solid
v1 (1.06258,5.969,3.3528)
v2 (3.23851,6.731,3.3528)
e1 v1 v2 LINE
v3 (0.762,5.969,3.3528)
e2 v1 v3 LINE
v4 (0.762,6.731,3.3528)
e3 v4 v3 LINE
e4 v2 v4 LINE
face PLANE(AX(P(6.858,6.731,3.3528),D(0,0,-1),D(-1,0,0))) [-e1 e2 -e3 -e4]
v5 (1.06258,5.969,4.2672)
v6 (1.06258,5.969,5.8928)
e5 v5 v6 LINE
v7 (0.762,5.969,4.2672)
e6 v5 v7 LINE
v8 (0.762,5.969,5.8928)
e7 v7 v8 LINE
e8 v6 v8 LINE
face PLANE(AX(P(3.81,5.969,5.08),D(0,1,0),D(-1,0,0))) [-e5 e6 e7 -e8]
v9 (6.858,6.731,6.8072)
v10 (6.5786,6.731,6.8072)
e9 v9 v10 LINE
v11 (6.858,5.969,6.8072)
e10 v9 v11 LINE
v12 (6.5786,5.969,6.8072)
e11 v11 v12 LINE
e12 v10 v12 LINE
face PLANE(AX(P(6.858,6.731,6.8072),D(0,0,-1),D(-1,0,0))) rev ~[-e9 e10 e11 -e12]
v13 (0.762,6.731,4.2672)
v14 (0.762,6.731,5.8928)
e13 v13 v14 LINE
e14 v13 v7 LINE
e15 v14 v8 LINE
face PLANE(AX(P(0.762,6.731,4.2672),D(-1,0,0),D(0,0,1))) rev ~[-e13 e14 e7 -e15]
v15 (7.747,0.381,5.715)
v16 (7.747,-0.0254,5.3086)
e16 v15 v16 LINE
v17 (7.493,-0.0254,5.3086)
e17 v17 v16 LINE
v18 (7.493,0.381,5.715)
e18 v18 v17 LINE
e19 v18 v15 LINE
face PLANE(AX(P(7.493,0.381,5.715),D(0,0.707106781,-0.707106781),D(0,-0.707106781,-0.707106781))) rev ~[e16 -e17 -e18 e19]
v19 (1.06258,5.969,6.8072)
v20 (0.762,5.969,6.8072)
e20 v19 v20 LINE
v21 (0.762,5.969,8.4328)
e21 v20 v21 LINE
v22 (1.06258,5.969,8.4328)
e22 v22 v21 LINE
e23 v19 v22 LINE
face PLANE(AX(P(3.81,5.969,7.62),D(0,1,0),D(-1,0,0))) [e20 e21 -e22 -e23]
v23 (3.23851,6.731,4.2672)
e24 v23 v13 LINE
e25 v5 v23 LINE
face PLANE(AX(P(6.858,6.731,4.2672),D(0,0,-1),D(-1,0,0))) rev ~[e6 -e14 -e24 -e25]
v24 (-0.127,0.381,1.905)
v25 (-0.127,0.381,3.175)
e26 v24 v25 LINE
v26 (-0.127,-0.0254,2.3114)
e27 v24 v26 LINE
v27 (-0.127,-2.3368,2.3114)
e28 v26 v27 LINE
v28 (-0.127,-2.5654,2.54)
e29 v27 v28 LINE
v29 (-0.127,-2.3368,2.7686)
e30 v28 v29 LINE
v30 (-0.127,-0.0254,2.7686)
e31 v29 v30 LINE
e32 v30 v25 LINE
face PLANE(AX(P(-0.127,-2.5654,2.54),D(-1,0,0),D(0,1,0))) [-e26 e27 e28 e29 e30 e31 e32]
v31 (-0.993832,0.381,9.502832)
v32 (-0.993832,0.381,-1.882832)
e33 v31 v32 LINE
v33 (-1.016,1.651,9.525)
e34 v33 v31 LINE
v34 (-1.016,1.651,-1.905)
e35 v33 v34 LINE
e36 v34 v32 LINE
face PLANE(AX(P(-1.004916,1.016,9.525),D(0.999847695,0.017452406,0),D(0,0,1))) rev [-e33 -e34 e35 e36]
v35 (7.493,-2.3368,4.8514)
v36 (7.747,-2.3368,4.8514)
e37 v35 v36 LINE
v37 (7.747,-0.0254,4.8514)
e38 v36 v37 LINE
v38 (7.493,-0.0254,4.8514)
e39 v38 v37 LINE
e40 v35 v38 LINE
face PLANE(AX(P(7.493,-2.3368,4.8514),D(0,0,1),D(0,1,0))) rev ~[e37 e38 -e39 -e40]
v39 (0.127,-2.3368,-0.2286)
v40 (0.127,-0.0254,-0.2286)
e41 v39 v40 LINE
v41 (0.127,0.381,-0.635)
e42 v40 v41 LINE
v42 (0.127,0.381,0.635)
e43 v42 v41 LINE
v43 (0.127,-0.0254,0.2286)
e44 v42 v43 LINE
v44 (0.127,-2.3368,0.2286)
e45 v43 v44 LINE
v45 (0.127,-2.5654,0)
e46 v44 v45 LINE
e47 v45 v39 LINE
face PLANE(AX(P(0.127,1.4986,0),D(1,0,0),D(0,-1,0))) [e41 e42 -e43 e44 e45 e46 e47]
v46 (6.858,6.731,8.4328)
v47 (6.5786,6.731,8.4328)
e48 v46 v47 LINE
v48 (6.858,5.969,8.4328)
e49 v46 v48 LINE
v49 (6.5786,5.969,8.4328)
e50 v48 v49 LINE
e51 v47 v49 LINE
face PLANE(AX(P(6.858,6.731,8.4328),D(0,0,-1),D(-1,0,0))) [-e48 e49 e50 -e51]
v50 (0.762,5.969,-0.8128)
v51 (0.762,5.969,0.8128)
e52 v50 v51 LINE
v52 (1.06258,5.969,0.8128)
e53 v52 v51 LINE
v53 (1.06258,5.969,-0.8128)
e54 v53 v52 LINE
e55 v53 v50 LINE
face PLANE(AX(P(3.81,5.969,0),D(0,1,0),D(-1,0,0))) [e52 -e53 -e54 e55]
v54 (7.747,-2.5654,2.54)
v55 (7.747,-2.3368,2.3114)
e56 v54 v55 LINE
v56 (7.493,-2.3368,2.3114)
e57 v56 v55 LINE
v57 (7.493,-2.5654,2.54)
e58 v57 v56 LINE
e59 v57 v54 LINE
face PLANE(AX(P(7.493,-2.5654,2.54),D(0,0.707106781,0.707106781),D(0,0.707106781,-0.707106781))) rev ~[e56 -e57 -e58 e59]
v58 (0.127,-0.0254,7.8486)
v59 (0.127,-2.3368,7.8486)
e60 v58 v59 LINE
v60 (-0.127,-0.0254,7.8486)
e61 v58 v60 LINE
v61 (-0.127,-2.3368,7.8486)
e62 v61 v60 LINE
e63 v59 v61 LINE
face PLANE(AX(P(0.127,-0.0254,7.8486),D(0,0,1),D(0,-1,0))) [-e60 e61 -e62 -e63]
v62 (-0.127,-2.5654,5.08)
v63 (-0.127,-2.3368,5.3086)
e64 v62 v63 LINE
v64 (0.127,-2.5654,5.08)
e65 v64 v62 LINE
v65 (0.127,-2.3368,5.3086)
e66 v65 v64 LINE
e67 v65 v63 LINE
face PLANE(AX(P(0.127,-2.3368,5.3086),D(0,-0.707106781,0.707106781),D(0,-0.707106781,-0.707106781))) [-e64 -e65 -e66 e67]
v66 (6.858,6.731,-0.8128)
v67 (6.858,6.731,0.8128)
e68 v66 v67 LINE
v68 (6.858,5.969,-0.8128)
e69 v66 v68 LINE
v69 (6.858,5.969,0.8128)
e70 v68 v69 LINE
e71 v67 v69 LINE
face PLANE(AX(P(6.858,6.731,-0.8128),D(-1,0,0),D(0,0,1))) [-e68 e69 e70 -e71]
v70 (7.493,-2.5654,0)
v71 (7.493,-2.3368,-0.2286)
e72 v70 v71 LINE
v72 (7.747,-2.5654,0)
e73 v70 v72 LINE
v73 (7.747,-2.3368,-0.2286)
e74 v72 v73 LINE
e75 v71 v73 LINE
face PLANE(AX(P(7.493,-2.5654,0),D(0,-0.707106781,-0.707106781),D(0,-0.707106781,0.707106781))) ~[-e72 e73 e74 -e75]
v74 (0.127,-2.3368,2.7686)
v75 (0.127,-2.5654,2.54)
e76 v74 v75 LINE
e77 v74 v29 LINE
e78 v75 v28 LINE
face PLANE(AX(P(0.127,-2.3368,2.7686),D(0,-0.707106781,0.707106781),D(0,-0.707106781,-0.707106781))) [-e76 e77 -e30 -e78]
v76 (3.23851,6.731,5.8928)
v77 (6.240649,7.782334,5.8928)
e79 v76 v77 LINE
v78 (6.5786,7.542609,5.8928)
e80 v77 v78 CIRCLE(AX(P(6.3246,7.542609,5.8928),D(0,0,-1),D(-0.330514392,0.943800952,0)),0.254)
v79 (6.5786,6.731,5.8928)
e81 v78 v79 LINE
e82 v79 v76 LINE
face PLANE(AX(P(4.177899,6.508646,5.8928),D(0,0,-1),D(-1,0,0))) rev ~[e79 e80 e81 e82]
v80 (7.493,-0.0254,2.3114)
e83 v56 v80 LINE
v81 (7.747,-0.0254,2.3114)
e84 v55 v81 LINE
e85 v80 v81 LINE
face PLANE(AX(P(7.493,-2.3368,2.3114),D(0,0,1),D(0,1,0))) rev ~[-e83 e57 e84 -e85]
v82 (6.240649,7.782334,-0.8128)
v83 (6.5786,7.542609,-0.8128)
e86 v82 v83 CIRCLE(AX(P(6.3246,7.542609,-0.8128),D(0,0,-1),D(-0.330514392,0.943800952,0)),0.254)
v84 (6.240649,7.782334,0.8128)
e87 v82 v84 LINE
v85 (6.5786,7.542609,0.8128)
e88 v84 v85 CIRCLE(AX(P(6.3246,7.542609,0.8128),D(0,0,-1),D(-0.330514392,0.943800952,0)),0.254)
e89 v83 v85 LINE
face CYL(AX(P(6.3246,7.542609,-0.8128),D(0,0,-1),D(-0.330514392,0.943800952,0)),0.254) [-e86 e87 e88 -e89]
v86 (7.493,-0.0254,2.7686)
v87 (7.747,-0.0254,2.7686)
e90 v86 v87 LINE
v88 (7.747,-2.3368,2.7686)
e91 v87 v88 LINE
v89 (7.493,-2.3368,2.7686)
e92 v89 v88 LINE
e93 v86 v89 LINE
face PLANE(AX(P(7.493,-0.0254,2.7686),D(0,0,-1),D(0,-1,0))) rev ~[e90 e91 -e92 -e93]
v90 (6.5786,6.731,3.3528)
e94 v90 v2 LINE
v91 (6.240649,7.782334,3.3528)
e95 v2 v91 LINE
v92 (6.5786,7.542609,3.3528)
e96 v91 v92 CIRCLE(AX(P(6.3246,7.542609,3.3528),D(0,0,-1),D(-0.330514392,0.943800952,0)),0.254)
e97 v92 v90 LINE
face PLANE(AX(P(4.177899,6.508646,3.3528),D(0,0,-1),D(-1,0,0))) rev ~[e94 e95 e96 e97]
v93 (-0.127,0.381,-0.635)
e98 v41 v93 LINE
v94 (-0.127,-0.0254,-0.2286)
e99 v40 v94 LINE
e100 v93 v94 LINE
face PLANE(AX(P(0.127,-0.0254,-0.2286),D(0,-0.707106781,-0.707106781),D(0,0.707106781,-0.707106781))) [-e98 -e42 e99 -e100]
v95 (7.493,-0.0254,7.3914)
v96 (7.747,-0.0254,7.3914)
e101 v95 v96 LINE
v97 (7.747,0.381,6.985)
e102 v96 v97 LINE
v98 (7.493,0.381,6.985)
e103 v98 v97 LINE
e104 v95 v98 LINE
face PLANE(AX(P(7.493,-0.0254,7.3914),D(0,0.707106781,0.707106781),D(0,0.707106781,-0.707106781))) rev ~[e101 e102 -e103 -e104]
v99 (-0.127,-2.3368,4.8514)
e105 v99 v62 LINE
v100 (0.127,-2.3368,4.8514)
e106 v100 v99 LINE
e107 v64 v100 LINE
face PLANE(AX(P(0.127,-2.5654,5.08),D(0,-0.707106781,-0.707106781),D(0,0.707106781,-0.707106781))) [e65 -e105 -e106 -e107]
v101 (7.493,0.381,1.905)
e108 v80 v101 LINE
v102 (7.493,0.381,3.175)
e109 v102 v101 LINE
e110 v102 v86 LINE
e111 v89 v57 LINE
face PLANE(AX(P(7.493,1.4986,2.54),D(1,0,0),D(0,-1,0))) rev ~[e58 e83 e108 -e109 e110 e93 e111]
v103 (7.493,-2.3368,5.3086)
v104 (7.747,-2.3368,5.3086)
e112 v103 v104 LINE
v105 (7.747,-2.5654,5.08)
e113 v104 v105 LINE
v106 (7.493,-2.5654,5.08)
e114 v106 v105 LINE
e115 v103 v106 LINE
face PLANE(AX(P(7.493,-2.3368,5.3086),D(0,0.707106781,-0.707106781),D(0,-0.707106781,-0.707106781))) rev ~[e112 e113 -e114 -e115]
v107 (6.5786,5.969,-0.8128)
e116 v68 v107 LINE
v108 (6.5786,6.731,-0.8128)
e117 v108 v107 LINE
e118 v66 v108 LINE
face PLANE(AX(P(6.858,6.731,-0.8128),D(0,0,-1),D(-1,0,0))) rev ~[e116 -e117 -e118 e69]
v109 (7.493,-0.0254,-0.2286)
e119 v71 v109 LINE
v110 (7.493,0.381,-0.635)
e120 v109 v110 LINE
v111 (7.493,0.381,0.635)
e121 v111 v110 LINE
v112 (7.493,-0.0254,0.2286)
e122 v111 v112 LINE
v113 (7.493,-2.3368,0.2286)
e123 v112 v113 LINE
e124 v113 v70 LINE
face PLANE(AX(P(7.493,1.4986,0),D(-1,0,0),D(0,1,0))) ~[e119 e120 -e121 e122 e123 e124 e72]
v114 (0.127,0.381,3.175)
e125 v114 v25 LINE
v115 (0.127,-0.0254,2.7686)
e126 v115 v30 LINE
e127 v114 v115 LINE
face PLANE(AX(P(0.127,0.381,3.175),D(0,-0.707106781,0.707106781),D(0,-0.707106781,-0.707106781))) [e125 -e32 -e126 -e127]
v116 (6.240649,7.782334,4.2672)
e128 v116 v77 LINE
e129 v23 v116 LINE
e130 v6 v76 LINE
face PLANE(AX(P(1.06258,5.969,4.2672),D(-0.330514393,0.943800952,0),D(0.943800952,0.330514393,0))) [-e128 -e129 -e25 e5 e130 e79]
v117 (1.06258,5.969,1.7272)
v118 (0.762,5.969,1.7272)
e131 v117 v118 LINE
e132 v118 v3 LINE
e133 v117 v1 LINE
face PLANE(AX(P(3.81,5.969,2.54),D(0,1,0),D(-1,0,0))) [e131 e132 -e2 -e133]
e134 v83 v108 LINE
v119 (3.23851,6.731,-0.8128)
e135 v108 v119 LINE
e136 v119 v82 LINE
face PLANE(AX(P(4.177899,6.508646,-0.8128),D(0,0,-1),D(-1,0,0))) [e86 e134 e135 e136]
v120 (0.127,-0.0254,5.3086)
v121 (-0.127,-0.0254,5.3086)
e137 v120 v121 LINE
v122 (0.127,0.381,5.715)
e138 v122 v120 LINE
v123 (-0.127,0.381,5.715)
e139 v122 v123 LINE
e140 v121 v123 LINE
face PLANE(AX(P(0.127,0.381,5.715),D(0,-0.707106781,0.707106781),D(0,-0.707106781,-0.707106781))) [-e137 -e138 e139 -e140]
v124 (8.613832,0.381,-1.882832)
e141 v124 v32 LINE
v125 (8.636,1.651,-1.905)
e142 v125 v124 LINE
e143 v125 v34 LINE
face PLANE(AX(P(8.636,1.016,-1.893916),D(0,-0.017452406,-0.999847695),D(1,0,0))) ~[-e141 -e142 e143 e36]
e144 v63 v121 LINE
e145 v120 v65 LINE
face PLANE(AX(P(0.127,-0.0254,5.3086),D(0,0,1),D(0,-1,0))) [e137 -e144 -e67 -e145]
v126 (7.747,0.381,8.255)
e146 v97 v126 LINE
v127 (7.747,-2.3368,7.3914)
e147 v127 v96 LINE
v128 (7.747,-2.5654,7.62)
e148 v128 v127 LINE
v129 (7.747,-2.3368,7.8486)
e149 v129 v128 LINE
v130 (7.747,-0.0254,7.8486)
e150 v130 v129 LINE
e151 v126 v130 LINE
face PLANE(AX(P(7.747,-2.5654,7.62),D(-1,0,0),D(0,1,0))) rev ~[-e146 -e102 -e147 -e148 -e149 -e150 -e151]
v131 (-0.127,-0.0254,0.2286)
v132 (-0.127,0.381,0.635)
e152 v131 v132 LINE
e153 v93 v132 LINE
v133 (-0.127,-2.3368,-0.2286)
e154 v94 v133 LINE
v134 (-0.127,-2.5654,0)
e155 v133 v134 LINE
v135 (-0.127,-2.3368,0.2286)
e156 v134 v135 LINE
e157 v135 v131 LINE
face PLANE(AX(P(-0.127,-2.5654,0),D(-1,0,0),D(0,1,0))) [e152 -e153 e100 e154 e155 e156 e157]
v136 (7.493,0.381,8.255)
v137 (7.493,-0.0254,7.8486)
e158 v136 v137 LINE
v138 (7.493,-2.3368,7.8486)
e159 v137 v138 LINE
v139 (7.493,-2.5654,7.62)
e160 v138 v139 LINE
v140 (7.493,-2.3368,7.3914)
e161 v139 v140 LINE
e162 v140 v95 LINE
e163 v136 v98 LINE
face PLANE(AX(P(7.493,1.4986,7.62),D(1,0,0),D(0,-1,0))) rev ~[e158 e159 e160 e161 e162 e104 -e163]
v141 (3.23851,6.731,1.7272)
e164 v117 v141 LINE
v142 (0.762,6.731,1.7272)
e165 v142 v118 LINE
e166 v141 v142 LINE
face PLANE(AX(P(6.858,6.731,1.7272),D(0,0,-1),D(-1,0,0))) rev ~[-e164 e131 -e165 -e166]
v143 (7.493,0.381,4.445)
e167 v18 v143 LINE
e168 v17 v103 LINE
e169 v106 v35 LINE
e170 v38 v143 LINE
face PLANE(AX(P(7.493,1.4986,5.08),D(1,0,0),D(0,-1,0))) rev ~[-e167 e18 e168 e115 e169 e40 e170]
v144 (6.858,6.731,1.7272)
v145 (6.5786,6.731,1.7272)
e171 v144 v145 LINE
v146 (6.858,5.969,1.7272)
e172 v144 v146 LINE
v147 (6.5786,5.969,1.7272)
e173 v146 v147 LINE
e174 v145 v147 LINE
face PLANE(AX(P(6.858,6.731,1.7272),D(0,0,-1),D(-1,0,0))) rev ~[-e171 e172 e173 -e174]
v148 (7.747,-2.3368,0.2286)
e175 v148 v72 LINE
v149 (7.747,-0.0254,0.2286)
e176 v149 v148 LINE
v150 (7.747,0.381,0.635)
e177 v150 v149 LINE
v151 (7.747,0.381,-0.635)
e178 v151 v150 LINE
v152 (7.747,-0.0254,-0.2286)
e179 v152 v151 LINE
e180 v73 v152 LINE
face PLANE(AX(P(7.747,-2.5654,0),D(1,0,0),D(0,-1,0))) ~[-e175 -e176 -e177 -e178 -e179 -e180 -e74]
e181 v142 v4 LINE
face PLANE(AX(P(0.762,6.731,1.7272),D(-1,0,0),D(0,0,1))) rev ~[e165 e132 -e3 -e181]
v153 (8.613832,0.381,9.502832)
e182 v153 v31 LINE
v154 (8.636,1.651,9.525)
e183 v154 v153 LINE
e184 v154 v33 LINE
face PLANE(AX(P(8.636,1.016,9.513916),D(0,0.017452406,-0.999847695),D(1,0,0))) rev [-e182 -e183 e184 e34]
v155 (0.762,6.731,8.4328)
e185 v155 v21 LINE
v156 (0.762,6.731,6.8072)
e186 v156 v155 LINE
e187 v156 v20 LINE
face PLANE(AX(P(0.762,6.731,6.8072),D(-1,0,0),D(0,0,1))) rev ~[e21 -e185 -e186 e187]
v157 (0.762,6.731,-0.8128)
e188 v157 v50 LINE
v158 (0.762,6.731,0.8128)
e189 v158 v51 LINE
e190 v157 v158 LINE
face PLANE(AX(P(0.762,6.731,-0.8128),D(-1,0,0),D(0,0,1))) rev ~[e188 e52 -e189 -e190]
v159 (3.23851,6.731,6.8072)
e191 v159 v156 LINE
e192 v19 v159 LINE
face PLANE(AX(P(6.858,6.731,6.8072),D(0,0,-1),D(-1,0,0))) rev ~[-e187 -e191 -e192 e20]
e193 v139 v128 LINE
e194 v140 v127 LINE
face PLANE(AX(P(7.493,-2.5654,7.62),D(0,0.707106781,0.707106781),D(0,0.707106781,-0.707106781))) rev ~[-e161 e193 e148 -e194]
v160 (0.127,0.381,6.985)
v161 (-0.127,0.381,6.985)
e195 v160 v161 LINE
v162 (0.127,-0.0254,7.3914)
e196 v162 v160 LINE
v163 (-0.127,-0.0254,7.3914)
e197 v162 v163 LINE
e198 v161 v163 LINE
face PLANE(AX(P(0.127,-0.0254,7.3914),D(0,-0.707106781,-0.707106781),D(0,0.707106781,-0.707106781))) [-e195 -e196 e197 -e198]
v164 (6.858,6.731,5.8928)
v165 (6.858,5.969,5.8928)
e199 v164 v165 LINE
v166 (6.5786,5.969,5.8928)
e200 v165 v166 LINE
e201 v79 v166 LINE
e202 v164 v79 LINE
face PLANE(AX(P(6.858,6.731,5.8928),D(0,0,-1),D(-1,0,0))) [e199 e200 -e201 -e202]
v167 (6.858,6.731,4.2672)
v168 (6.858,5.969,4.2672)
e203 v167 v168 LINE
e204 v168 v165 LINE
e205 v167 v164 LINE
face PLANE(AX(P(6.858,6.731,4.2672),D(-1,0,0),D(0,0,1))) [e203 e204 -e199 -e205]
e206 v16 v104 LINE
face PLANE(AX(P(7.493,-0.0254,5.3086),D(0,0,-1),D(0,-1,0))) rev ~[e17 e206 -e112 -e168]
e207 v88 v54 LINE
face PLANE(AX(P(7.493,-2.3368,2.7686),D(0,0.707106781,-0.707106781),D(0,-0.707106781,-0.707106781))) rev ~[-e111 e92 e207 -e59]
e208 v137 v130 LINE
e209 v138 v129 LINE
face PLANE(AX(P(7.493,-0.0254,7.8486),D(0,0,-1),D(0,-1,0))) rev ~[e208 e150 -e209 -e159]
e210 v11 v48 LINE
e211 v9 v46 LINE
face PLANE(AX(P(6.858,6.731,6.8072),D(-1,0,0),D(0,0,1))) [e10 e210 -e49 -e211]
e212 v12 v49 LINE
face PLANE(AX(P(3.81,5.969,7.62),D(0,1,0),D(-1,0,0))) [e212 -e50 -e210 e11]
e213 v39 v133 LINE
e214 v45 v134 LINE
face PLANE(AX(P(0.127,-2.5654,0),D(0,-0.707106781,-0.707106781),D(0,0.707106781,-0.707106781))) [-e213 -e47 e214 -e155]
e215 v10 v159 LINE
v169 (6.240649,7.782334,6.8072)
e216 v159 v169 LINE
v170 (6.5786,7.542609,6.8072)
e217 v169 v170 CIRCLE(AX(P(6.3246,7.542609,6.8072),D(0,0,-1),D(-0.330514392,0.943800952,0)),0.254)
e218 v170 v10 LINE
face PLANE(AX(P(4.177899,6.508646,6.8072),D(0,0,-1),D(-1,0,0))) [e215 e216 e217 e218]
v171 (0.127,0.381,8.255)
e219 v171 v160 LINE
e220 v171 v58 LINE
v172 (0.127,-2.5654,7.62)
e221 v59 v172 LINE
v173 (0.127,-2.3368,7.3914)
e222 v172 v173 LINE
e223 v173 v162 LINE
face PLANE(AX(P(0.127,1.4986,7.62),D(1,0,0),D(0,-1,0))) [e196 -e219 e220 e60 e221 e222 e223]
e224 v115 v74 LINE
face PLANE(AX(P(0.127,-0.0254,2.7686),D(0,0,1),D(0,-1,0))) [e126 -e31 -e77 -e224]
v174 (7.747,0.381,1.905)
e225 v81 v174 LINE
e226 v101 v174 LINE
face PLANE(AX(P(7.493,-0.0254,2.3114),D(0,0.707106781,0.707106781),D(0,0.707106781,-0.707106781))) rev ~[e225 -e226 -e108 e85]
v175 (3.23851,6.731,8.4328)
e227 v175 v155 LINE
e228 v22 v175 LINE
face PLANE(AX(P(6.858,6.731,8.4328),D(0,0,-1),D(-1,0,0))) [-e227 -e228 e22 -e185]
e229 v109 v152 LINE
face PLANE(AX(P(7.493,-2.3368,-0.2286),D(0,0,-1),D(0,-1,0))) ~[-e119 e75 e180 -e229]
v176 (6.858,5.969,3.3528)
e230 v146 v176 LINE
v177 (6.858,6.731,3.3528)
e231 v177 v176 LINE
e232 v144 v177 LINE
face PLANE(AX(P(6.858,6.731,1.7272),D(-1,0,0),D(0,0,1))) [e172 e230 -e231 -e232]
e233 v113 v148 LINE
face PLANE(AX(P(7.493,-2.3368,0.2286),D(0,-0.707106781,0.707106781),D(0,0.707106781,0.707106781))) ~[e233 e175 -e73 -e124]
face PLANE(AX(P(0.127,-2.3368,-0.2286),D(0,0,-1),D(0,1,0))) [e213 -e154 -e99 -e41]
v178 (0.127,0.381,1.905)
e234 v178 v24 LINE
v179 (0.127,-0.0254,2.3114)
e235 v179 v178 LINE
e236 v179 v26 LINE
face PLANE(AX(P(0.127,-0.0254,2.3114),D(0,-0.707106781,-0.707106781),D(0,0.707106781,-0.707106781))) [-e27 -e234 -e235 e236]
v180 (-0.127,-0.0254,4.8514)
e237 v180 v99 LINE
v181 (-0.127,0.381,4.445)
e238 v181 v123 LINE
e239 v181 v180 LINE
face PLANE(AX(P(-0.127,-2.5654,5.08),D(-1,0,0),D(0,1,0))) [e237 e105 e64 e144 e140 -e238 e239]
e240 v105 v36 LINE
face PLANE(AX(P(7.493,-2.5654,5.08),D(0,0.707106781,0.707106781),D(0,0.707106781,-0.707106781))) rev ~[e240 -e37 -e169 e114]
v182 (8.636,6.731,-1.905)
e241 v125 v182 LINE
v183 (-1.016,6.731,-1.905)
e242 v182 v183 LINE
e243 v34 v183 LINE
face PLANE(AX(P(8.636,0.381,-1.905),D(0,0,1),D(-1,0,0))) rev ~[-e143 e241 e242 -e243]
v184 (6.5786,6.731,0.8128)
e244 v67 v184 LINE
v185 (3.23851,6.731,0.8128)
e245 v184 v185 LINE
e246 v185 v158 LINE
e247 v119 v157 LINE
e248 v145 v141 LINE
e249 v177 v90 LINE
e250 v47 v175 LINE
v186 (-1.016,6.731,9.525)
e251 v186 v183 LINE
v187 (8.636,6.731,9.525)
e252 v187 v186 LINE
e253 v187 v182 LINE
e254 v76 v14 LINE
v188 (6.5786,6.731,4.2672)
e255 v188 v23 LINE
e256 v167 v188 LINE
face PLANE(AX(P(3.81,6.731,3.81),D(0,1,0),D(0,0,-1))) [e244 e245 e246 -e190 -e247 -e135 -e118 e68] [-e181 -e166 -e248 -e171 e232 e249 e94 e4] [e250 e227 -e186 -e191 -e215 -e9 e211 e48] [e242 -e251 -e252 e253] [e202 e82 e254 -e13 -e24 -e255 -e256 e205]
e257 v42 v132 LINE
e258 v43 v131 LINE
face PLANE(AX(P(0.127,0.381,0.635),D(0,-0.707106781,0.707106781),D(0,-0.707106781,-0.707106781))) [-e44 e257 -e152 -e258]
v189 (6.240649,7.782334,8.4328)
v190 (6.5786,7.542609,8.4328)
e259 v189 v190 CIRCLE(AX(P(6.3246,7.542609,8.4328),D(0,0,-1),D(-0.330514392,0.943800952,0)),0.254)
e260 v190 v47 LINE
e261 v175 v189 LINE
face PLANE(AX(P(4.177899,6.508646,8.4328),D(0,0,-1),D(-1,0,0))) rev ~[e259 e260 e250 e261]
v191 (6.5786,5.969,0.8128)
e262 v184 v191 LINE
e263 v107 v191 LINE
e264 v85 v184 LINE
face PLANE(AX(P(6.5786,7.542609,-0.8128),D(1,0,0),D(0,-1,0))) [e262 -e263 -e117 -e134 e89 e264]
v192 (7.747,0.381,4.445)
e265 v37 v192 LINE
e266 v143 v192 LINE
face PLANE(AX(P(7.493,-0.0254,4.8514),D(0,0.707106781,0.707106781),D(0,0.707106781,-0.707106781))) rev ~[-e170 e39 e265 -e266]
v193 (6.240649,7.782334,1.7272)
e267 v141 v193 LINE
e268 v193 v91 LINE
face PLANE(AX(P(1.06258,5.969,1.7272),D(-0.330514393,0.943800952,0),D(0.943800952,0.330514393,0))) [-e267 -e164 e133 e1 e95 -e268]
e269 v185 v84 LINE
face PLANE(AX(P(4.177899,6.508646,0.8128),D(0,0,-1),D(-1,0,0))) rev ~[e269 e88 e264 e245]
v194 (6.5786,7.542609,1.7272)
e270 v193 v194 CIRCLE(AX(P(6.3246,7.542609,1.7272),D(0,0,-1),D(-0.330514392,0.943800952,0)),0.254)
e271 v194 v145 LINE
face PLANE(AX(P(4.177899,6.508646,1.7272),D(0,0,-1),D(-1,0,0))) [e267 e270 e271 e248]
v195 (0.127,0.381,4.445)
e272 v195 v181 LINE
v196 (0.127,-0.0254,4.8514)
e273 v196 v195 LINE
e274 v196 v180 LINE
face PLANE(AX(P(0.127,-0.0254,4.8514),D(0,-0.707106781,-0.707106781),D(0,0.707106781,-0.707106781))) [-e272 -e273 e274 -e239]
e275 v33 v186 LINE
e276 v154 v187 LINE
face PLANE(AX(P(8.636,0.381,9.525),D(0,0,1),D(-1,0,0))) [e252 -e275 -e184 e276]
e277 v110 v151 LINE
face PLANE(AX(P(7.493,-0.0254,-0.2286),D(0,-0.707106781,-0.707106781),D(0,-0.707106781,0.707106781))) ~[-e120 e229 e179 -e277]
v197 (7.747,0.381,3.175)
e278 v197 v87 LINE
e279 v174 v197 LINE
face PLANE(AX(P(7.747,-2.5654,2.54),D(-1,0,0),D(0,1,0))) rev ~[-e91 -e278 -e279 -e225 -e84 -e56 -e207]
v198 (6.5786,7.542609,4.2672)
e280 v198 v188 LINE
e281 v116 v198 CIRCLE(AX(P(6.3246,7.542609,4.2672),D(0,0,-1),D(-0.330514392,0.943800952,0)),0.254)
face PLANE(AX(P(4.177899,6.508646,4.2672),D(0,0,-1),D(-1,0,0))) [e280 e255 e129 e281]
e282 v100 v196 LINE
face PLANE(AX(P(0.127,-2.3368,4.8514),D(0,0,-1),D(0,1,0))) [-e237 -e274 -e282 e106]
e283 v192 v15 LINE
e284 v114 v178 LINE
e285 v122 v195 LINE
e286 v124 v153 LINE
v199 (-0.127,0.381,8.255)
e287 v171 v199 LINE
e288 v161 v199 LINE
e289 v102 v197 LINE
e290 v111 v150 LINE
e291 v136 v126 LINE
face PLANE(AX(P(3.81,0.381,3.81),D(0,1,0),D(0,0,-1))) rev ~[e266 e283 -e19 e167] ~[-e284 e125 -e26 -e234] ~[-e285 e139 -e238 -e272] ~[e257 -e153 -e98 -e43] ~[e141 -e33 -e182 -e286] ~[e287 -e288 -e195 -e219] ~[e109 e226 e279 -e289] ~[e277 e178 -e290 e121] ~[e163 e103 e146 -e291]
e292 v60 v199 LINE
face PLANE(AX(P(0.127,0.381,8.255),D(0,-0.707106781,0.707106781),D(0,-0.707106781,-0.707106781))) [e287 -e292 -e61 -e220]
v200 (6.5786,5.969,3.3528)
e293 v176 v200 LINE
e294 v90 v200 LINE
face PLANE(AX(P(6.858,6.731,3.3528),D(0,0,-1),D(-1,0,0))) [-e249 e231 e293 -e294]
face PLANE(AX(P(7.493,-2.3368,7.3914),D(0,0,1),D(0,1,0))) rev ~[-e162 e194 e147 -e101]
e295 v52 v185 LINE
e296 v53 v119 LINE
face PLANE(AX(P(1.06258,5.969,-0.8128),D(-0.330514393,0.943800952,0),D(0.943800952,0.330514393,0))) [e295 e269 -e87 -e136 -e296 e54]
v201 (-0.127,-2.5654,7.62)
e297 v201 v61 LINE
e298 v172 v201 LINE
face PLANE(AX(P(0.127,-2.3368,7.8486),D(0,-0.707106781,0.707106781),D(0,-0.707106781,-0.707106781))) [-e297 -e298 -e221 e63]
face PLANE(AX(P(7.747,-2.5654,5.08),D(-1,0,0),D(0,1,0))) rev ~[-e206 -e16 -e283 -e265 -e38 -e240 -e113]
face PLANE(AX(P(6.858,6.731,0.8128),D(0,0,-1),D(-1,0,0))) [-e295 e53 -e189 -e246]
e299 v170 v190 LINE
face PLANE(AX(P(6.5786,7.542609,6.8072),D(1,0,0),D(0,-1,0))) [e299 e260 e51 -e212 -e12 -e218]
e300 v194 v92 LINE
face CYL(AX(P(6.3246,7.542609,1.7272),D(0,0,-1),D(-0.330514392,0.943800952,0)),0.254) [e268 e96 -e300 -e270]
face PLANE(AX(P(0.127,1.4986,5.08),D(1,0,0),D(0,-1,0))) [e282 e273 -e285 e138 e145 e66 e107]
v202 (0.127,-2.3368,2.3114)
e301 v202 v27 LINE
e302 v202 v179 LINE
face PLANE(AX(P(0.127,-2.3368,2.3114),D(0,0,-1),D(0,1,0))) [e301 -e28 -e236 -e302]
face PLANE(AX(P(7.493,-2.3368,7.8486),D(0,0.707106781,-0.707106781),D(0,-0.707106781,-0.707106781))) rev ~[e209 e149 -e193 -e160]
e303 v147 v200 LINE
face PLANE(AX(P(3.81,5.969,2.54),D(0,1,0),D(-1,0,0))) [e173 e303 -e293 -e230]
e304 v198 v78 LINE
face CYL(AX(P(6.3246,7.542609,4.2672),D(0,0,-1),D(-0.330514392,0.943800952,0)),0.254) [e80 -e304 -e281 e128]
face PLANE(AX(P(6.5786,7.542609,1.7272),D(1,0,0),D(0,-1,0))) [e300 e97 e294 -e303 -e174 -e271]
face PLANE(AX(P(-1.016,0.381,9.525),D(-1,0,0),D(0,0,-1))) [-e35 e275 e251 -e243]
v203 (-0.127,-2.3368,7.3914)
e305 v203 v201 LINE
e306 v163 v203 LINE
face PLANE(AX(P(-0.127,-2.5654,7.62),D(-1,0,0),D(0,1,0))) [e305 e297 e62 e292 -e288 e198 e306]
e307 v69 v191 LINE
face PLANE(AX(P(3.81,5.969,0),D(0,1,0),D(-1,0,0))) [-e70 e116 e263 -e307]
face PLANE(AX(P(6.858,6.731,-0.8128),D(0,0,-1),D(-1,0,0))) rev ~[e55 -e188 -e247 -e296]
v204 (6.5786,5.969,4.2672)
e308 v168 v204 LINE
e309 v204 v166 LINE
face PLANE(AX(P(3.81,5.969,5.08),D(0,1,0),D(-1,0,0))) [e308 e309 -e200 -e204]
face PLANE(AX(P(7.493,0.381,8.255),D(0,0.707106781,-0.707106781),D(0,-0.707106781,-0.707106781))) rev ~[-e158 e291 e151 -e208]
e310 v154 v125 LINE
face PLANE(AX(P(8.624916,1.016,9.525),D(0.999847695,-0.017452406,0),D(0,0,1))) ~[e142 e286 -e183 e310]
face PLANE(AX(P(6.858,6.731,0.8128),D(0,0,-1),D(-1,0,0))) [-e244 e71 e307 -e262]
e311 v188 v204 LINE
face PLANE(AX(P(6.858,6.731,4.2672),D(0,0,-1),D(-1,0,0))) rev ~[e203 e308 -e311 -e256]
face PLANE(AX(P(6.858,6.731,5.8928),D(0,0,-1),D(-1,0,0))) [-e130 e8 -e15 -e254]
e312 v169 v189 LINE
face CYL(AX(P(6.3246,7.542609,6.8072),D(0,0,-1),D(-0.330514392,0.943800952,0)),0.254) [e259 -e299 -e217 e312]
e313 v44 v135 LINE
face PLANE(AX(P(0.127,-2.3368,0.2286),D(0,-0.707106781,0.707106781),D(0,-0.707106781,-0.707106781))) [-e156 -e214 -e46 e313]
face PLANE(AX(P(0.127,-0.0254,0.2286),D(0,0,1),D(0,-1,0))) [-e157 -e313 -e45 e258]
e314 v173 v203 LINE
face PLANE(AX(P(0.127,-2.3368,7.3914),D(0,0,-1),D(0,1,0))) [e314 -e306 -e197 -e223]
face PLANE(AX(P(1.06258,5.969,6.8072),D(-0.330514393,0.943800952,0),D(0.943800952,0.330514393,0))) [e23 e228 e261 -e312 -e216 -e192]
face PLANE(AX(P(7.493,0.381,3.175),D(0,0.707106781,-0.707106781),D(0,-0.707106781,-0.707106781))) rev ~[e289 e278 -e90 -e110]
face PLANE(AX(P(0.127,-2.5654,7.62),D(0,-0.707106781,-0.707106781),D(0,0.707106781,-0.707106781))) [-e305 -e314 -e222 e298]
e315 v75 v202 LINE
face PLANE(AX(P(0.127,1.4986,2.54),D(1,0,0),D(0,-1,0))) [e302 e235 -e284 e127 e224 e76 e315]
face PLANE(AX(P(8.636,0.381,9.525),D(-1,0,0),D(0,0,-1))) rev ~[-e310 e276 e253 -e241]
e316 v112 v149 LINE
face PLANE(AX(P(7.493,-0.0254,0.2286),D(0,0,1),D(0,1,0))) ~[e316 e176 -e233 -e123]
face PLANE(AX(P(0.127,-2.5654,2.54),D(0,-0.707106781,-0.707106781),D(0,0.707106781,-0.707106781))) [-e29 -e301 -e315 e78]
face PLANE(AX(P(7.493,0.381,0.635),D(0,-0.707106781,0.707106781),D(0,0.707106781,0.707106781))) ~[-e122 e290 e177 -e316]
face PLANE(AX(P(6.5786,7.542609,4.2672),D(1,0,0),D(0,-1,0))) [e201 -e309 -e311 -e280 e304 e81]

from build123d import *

# Parameters (mm, degrees)
SKETCH1_W                = 11.43
SKETCH1_H                = 9.652
BASE_EXTRUDE_DEPTH       = 6.35
CHAMFER1_SIZE2           = 0.022167932
CHAMFER1_SIZE            = 1.27
BOSS_EXTRUDE_THIN1_DEPTH = 0.635
CUT_EXTRUDE1_DEPTH       = 2.143
CUT_EXTRUDE2_DEPTH       = 2.143
LPATTERN2_COUNT          = 4
LPATTERN2_PITCH          = 2.54
MIRROR1_COPY_1_DEPTH     = 0.635
MIRROR1_COPY_2_DEPTH     = 0.635
MIRROR1_COPY_3_DEPTH     = 0.635
MIRROR1_COPY_4_DEPTH     = 2.143
MIRROR1_COPY_5_DEPTH     = 2.143
MIRROR1_COPY_6_DEPTH     = 2.143
MIRROR1_COPY_7_DEPTH     = 2.143
MIRROR1_COPY_8_DEPTH     = 2.143
MIRROR1_COPY_9_DEPTH     = 2.143
SKETCH6_W                = 6.096
SKETCH6_H                = 1.6256
CUT_EXTRUDE3_DEPTH       = 0.762
BOSS_EXTRUDE1_DEPTH      = 1.6256
LPATTERN3_COUNT          = 4
LPATTERN3_PITCH          = 2.54


with BuildPart() as part:
    # Sketch1 → Base-Extrude (new body)
    with BuildSketch(Plane(origin=(0, 0.381, 0), x_dir=(0, 0, -1), z_dir=(0, 1, 0))):
        with Locations((-3.81, -3.81)):
            Rectangle(SKETCH1_W, SKETCH1_H)
    extrude(amount=BASE_EXTRUDE_DEPTH)

    # Chamfer1
    chamfer1_edges = [part.edges().sort_by_distance(p)[0] for p in [
        (8.636, 0.381, 3.81),
        (3.81, 0.381, 9.525),
        (-1.016, 0.381, 3.81),
        (3.81, 0.381, -1.905),
    ]]
    chamfer(chamfer1_edges, length=CHAMFER1_SIZE, length2=CHAMFER1_SIZE2)

    # Sketch3 → Boss-Extrude-Thin1 (add, symmetric)
    with BuildSketch(Plane(origin=(10.541, 0, 0), x_dir=(-1, 0, 0), z_dir=(0, 0, -1))):
        with BuildLine():
            Line((9.271, 1.8796), (10.033, 1.8796))
            ThreePointArc((10.033, 1.8796), (10.302407684, 1.768007684), (10.414, 1.4986))
            Line((10.414, 1.4986), (10.414, -2.5654))
            Line((10.414, -2.5654), (10.668, -2.5654))
            Line((10.668, -2.5654), (10.668, 1.4986))
            ThreePointArc((10.668, 1.4986), (10.482012806, 1.947612806), (10.033, 2.1336))
            Line((10.033, 2.1336), (9.271, 2.1336))
            Line((9.271, 2.1336), (9.271, 1.8796))
        make_face()
    boss_extrude_thin1 = extrude(amount=BOSS_EXTRUDE_THIN1_DEPTH, both=True)

    # Sketch4 → Cut-Extrude1 (cut, through all)
    with BuildSketch(Plane(origin=(0.127, 0, 0), x_dir=(0, 0, -1), z_dir=(1, 0, 0))):
        Polygon((0.635, -2.5654), (0, -2.5654), (0.2286, -2.3368), (0.2286, -0.0254), (0.635, 0.381), align=None)
    cut_extrude1 = extrude(amount=-CUT_EXTRUDE1_DEPTH, mode=Mode.SUBTRACT)

    # Sketch5 → Cut-Extrude2 (cut, through all)
    with BuildSketch(Plane(origin=(0.127, 0, 0), x_dir=(0, 0, -1), z_dir=(1, 0, 0))):
        Polygon((-0.635, 0.381), (-0.2286, -0.0254), (-0.2286, -2.3368), (0, -2.5654), (-0.635, -2.5654), align=None)
    cut_extrude2 = extrude(amount=-CUT_EXTRUDE2_DEPTH, mode=Mode.SUBTRACT)

    # LPattern2: Boss-Extrude-Thin1, Cut-Extrude1, Cut-Extrude2 ×4
    with Locations(*[(0, 0, i * LPATTERN2_PITCH) for i in range(1, LPATTERN2_COUNT)]):
        add(boss_extrude_thin1)
        add(cut_extrude1, mode=Mode.SUBTRACT)
        add(cut_extrude2, mode=Mode.SUBTRACT)

    # Mirror1: Boss-Extrude-Thin1, Cut-Extrude1, Cut-Extrude2 across plane
    add(boss_extrude_thin1.mirror(Plane.ZY.offset(-3.81)))
    add(cut_extrude1.mirror(Plane.ZY.offset(-3.81)), mode=Mode.SUBTRACT)
    add(cut_extrude2.mirror(Plane.ZY.offset(-3.81)), mode=Mode.SUBTRACT)

    # Mirror1 copy 1 sketch → Mirror1 copy 1 (add, symmetric)
    with BuildSketch(Plane(origin=(-2.921, 0, 2.54), x_dir=(1, 0, 0), z_dir=(0, 0, -1))):
        with BuildLine():
            Line((9.271, -1.8796), (10.033, -1.8796))
            ThreePointArc((10.033, -1.8796), (10.302407684, -1.768007684), (10.414, -1.4986))
            Line((10.414, -1.4986), (10.414, 2.5654))
            Line((10.414, 2.5654), (10.668, 2.5654))
            Line((10.668, 2.5654), (10.668, -1.4986))
            ThreePointArc((10.668, -1.4986), (10.482012806, -1.947612806), (10.033, -2.1336))
            Line((10.033, -2.1336), (9.271, -2.1336))
            Line((9.271, -2.1336), (9.271, -1.8796))
        make_face()
    extrude(amount=MIRROR1_COPY_1_DEPTH, both=True)

    # Mirror1 copy 2 sketch → Mirror1 copy 2 (add, symmetric)
    with BuildSketch(Plane(origin=(-2.921, 0, 5.08), x_dir=(1, 0, 0), z_dir=(0, 0, -1))):
        with BuildLine():
            Line((9.271, -1.8796), (10.033, -1.8796))
            ThreePointArc((10.033, -1.8796), (10.302407684, -1.768007684), (10.414, -1.4986))
            Line((10.414, -1.4986), (10.414, 2.5654))
            Line((10.414, 2.5654), (10.668, 2.5654))
            Line((10.668, 2.5654), (10.668, -1.4986))
            ThreePointArc((10.668, -1.4986), (10.482012806, -1.947612806), (10.033, -2.1336))
            Line((10.033, -2.1336), (9.271, -2.1336))
            Line((9.271, -2.1336), (9.271, -1.8796))
        make_face()
    extrude(amount=MIRROR1_COPY_2_DEPTH, both=True)

    # Mirror1 copy 3 sketch → Mirror1 copy 3 (add, symmetric)
    with BuildSketch(Plane(origin=(-2.921, 0, 7.62), x_dir=(1, 0, 0), z_dir=(0, 0, -1))):
        with BuildLine():
            Line((9.271, -1.8796), (10.033, -1.8796))
            ThreePointArc((10.033, -1.8796), (10.302407684, -1.768007684), (10.414, -1.4986))
            Line((10.414, -1.4986), (10.414, 2.5654))
            Line((10.414, 2.5654), (10.668, 2.5654))
            Line((10.668, 2.5654), (10.668, -1.4986))
            ThreePointArc((10.668, -1.4986), (10.482012806, -1.947612806), (10.033, -2.1336))
            Line((10.033, -2.1336), (9.271, -2.1336))
            Line((9.271, -2.1336), (9.271, -1.8796))
        make_face()
    extrude(amount=MIRROR1_COPY_3_DEPTH, both=True)

    # Mirror1 copy 4 sketch → Mirror1 copy 4 (cut, through all)
    with BuildSketch(Plane(origin=(7.493, 0, 2.54), x_dir=(0, 0, -1), z_dir=(-1, 0, 0))):
        Polygon((0.635, 2.5654), (0, 2.5654), (0.2286, 2.3368), (0.2286, 0.0254), (0.635, -0.381), align=None)
    extrude(amount=-MIRROR1_COPY_4_DEPTH, mode=Mode.SUBTRACT)

    # Mirror1 copy 5 sketch → Mirror1 copy 5 (cut, through all)
    with BuildSketch(Plane(origin=(7.493, 0, 5.08), x_dir=(0, 0, -1), z_dir=(-1, 0, 0))):
        Polygon((0.635, 2.5654), (0, 2.5654), (0.2286, 2.3368), (0.2286, 0.0254), (0.635, -0.381), align=None)
    extrude(amount=-MIRROR1_COPY_5_DEPTH, mode=Mode.SUBTRACT)

    # Mirror1 copy 6 sketch → Mirror1 copy 6 (cut, through all)
    with BuildSketch(Plane(origin=(7.493, 0, 7.62), x_dir=(0, 0, -1), z_dir=(-1, 0, 0))):
        Polygon((0.635, 2.5654), (0, 2.5654), (0.2286, 2.3368), (0.2286, 0.0254), (0.635, -0.381), align=None)
    extrude(amount=-MIRROR1_COPY_6_DEPTH, mode=Mode.SUBTRACT)

    # Mirror1 copy 7 sketch → Mirror1 copy 7 (cut, through all)
    with BuildSketch(Plane(origin=(7.493, 0, 2.54), x_dir=(0, 0, -1), z_dir=(-1, 0, 0))):
        Polygon((-0.635, -0.381), (-0.2286, 0.0254), (-0.2286, 2.3368), (0, 2.5654), (-0.635, 2.5654), align=None)
    extrude(amount=-MIRROR1_COPY_7_DEPTH, mode=Mode.SUBTRACT)

    # Mirror1 copy 8 sketch → Mirror1 copy 8 (cut, through all)
    with BuildSketch(Plane(origin=(7.493, 0, 5.08), x_dir=(0, 0, -1), z_dir=(-1, 0, 0))):
        Polygon((-0.635, -0.381), (-0.2286, 0.0254), (-0.2286, 2.3368), (0, 2.5654), (-0.635, 2.5654), align=None)
    extrude(amount=-MIRROR1_COPY_8_DEPTH, mode=Mode.SUBTRACT)

    # Mirror1 copy 9 sketch → Mirror1 copy 9 (cut, through all)
    with BuildSketch(Plane(origin=(7.493, 0, 7.62), x_dir=(0, 0, -1), z_dir=(-1, 0, 0))):
        Polygon((-0.635, -0.381), (-0.2286, 0.0254), (-0.2286, 2.3368), (0, 2.5654), (-0.635, 2.5654), align=None)
    extrude(amount=-MIRROR1_COPY_9_DEPTH, mode=Mode.SUBTRACT)

    # Sketch6 → Cut-Extrude3 (cut)
    with BuildSketch(Plane(origin=(0, 6.731, 0), x_dir=(-1, 0, 0), z_dir=(0, 1, 0))):
        with Locations((-3.81, 0)):
            Rectangle(SKETCH6_W, SKETCH6_H)
    cut_extrude3 = extrude(amount=-CUT_EXTRUDE3_DEPTH, mode=Mode.SUBTRACT)

    # Sketch7 → Boss-Extrude1 (add)
    with BuildSketch(Plane.XY.offset(-0.8128)):
        with BuildLine():
            Line((1.062579803, 5.969), (6.240649344, 7.782334164))
            ThreePointArc((6.240649344, 7.782334164), (6.471556683, 7.749779505), (6.5786, 7.542608722))
            Line((6.5786, 7.542608722), (6.5786, 5.969))
            Line((6.5786, 5.969), (1.062579803, 5.969))
        make_face()
    boss_extrude1 = extrude(amount=BOSS_EXTRUDE1_DEPTH)

    # LPattern3: Cut-Extrude3, Boss-Extrude1 ×4
    with Locations(*[(0, 0, i * LPATTERN3_PITCH) for i in range(1, LPATTERN3_COUNT)]):
        add(cut_extrude3, mode=Mode.SUBTRACT)
        add(boss_extrude1)


solid = part.part
